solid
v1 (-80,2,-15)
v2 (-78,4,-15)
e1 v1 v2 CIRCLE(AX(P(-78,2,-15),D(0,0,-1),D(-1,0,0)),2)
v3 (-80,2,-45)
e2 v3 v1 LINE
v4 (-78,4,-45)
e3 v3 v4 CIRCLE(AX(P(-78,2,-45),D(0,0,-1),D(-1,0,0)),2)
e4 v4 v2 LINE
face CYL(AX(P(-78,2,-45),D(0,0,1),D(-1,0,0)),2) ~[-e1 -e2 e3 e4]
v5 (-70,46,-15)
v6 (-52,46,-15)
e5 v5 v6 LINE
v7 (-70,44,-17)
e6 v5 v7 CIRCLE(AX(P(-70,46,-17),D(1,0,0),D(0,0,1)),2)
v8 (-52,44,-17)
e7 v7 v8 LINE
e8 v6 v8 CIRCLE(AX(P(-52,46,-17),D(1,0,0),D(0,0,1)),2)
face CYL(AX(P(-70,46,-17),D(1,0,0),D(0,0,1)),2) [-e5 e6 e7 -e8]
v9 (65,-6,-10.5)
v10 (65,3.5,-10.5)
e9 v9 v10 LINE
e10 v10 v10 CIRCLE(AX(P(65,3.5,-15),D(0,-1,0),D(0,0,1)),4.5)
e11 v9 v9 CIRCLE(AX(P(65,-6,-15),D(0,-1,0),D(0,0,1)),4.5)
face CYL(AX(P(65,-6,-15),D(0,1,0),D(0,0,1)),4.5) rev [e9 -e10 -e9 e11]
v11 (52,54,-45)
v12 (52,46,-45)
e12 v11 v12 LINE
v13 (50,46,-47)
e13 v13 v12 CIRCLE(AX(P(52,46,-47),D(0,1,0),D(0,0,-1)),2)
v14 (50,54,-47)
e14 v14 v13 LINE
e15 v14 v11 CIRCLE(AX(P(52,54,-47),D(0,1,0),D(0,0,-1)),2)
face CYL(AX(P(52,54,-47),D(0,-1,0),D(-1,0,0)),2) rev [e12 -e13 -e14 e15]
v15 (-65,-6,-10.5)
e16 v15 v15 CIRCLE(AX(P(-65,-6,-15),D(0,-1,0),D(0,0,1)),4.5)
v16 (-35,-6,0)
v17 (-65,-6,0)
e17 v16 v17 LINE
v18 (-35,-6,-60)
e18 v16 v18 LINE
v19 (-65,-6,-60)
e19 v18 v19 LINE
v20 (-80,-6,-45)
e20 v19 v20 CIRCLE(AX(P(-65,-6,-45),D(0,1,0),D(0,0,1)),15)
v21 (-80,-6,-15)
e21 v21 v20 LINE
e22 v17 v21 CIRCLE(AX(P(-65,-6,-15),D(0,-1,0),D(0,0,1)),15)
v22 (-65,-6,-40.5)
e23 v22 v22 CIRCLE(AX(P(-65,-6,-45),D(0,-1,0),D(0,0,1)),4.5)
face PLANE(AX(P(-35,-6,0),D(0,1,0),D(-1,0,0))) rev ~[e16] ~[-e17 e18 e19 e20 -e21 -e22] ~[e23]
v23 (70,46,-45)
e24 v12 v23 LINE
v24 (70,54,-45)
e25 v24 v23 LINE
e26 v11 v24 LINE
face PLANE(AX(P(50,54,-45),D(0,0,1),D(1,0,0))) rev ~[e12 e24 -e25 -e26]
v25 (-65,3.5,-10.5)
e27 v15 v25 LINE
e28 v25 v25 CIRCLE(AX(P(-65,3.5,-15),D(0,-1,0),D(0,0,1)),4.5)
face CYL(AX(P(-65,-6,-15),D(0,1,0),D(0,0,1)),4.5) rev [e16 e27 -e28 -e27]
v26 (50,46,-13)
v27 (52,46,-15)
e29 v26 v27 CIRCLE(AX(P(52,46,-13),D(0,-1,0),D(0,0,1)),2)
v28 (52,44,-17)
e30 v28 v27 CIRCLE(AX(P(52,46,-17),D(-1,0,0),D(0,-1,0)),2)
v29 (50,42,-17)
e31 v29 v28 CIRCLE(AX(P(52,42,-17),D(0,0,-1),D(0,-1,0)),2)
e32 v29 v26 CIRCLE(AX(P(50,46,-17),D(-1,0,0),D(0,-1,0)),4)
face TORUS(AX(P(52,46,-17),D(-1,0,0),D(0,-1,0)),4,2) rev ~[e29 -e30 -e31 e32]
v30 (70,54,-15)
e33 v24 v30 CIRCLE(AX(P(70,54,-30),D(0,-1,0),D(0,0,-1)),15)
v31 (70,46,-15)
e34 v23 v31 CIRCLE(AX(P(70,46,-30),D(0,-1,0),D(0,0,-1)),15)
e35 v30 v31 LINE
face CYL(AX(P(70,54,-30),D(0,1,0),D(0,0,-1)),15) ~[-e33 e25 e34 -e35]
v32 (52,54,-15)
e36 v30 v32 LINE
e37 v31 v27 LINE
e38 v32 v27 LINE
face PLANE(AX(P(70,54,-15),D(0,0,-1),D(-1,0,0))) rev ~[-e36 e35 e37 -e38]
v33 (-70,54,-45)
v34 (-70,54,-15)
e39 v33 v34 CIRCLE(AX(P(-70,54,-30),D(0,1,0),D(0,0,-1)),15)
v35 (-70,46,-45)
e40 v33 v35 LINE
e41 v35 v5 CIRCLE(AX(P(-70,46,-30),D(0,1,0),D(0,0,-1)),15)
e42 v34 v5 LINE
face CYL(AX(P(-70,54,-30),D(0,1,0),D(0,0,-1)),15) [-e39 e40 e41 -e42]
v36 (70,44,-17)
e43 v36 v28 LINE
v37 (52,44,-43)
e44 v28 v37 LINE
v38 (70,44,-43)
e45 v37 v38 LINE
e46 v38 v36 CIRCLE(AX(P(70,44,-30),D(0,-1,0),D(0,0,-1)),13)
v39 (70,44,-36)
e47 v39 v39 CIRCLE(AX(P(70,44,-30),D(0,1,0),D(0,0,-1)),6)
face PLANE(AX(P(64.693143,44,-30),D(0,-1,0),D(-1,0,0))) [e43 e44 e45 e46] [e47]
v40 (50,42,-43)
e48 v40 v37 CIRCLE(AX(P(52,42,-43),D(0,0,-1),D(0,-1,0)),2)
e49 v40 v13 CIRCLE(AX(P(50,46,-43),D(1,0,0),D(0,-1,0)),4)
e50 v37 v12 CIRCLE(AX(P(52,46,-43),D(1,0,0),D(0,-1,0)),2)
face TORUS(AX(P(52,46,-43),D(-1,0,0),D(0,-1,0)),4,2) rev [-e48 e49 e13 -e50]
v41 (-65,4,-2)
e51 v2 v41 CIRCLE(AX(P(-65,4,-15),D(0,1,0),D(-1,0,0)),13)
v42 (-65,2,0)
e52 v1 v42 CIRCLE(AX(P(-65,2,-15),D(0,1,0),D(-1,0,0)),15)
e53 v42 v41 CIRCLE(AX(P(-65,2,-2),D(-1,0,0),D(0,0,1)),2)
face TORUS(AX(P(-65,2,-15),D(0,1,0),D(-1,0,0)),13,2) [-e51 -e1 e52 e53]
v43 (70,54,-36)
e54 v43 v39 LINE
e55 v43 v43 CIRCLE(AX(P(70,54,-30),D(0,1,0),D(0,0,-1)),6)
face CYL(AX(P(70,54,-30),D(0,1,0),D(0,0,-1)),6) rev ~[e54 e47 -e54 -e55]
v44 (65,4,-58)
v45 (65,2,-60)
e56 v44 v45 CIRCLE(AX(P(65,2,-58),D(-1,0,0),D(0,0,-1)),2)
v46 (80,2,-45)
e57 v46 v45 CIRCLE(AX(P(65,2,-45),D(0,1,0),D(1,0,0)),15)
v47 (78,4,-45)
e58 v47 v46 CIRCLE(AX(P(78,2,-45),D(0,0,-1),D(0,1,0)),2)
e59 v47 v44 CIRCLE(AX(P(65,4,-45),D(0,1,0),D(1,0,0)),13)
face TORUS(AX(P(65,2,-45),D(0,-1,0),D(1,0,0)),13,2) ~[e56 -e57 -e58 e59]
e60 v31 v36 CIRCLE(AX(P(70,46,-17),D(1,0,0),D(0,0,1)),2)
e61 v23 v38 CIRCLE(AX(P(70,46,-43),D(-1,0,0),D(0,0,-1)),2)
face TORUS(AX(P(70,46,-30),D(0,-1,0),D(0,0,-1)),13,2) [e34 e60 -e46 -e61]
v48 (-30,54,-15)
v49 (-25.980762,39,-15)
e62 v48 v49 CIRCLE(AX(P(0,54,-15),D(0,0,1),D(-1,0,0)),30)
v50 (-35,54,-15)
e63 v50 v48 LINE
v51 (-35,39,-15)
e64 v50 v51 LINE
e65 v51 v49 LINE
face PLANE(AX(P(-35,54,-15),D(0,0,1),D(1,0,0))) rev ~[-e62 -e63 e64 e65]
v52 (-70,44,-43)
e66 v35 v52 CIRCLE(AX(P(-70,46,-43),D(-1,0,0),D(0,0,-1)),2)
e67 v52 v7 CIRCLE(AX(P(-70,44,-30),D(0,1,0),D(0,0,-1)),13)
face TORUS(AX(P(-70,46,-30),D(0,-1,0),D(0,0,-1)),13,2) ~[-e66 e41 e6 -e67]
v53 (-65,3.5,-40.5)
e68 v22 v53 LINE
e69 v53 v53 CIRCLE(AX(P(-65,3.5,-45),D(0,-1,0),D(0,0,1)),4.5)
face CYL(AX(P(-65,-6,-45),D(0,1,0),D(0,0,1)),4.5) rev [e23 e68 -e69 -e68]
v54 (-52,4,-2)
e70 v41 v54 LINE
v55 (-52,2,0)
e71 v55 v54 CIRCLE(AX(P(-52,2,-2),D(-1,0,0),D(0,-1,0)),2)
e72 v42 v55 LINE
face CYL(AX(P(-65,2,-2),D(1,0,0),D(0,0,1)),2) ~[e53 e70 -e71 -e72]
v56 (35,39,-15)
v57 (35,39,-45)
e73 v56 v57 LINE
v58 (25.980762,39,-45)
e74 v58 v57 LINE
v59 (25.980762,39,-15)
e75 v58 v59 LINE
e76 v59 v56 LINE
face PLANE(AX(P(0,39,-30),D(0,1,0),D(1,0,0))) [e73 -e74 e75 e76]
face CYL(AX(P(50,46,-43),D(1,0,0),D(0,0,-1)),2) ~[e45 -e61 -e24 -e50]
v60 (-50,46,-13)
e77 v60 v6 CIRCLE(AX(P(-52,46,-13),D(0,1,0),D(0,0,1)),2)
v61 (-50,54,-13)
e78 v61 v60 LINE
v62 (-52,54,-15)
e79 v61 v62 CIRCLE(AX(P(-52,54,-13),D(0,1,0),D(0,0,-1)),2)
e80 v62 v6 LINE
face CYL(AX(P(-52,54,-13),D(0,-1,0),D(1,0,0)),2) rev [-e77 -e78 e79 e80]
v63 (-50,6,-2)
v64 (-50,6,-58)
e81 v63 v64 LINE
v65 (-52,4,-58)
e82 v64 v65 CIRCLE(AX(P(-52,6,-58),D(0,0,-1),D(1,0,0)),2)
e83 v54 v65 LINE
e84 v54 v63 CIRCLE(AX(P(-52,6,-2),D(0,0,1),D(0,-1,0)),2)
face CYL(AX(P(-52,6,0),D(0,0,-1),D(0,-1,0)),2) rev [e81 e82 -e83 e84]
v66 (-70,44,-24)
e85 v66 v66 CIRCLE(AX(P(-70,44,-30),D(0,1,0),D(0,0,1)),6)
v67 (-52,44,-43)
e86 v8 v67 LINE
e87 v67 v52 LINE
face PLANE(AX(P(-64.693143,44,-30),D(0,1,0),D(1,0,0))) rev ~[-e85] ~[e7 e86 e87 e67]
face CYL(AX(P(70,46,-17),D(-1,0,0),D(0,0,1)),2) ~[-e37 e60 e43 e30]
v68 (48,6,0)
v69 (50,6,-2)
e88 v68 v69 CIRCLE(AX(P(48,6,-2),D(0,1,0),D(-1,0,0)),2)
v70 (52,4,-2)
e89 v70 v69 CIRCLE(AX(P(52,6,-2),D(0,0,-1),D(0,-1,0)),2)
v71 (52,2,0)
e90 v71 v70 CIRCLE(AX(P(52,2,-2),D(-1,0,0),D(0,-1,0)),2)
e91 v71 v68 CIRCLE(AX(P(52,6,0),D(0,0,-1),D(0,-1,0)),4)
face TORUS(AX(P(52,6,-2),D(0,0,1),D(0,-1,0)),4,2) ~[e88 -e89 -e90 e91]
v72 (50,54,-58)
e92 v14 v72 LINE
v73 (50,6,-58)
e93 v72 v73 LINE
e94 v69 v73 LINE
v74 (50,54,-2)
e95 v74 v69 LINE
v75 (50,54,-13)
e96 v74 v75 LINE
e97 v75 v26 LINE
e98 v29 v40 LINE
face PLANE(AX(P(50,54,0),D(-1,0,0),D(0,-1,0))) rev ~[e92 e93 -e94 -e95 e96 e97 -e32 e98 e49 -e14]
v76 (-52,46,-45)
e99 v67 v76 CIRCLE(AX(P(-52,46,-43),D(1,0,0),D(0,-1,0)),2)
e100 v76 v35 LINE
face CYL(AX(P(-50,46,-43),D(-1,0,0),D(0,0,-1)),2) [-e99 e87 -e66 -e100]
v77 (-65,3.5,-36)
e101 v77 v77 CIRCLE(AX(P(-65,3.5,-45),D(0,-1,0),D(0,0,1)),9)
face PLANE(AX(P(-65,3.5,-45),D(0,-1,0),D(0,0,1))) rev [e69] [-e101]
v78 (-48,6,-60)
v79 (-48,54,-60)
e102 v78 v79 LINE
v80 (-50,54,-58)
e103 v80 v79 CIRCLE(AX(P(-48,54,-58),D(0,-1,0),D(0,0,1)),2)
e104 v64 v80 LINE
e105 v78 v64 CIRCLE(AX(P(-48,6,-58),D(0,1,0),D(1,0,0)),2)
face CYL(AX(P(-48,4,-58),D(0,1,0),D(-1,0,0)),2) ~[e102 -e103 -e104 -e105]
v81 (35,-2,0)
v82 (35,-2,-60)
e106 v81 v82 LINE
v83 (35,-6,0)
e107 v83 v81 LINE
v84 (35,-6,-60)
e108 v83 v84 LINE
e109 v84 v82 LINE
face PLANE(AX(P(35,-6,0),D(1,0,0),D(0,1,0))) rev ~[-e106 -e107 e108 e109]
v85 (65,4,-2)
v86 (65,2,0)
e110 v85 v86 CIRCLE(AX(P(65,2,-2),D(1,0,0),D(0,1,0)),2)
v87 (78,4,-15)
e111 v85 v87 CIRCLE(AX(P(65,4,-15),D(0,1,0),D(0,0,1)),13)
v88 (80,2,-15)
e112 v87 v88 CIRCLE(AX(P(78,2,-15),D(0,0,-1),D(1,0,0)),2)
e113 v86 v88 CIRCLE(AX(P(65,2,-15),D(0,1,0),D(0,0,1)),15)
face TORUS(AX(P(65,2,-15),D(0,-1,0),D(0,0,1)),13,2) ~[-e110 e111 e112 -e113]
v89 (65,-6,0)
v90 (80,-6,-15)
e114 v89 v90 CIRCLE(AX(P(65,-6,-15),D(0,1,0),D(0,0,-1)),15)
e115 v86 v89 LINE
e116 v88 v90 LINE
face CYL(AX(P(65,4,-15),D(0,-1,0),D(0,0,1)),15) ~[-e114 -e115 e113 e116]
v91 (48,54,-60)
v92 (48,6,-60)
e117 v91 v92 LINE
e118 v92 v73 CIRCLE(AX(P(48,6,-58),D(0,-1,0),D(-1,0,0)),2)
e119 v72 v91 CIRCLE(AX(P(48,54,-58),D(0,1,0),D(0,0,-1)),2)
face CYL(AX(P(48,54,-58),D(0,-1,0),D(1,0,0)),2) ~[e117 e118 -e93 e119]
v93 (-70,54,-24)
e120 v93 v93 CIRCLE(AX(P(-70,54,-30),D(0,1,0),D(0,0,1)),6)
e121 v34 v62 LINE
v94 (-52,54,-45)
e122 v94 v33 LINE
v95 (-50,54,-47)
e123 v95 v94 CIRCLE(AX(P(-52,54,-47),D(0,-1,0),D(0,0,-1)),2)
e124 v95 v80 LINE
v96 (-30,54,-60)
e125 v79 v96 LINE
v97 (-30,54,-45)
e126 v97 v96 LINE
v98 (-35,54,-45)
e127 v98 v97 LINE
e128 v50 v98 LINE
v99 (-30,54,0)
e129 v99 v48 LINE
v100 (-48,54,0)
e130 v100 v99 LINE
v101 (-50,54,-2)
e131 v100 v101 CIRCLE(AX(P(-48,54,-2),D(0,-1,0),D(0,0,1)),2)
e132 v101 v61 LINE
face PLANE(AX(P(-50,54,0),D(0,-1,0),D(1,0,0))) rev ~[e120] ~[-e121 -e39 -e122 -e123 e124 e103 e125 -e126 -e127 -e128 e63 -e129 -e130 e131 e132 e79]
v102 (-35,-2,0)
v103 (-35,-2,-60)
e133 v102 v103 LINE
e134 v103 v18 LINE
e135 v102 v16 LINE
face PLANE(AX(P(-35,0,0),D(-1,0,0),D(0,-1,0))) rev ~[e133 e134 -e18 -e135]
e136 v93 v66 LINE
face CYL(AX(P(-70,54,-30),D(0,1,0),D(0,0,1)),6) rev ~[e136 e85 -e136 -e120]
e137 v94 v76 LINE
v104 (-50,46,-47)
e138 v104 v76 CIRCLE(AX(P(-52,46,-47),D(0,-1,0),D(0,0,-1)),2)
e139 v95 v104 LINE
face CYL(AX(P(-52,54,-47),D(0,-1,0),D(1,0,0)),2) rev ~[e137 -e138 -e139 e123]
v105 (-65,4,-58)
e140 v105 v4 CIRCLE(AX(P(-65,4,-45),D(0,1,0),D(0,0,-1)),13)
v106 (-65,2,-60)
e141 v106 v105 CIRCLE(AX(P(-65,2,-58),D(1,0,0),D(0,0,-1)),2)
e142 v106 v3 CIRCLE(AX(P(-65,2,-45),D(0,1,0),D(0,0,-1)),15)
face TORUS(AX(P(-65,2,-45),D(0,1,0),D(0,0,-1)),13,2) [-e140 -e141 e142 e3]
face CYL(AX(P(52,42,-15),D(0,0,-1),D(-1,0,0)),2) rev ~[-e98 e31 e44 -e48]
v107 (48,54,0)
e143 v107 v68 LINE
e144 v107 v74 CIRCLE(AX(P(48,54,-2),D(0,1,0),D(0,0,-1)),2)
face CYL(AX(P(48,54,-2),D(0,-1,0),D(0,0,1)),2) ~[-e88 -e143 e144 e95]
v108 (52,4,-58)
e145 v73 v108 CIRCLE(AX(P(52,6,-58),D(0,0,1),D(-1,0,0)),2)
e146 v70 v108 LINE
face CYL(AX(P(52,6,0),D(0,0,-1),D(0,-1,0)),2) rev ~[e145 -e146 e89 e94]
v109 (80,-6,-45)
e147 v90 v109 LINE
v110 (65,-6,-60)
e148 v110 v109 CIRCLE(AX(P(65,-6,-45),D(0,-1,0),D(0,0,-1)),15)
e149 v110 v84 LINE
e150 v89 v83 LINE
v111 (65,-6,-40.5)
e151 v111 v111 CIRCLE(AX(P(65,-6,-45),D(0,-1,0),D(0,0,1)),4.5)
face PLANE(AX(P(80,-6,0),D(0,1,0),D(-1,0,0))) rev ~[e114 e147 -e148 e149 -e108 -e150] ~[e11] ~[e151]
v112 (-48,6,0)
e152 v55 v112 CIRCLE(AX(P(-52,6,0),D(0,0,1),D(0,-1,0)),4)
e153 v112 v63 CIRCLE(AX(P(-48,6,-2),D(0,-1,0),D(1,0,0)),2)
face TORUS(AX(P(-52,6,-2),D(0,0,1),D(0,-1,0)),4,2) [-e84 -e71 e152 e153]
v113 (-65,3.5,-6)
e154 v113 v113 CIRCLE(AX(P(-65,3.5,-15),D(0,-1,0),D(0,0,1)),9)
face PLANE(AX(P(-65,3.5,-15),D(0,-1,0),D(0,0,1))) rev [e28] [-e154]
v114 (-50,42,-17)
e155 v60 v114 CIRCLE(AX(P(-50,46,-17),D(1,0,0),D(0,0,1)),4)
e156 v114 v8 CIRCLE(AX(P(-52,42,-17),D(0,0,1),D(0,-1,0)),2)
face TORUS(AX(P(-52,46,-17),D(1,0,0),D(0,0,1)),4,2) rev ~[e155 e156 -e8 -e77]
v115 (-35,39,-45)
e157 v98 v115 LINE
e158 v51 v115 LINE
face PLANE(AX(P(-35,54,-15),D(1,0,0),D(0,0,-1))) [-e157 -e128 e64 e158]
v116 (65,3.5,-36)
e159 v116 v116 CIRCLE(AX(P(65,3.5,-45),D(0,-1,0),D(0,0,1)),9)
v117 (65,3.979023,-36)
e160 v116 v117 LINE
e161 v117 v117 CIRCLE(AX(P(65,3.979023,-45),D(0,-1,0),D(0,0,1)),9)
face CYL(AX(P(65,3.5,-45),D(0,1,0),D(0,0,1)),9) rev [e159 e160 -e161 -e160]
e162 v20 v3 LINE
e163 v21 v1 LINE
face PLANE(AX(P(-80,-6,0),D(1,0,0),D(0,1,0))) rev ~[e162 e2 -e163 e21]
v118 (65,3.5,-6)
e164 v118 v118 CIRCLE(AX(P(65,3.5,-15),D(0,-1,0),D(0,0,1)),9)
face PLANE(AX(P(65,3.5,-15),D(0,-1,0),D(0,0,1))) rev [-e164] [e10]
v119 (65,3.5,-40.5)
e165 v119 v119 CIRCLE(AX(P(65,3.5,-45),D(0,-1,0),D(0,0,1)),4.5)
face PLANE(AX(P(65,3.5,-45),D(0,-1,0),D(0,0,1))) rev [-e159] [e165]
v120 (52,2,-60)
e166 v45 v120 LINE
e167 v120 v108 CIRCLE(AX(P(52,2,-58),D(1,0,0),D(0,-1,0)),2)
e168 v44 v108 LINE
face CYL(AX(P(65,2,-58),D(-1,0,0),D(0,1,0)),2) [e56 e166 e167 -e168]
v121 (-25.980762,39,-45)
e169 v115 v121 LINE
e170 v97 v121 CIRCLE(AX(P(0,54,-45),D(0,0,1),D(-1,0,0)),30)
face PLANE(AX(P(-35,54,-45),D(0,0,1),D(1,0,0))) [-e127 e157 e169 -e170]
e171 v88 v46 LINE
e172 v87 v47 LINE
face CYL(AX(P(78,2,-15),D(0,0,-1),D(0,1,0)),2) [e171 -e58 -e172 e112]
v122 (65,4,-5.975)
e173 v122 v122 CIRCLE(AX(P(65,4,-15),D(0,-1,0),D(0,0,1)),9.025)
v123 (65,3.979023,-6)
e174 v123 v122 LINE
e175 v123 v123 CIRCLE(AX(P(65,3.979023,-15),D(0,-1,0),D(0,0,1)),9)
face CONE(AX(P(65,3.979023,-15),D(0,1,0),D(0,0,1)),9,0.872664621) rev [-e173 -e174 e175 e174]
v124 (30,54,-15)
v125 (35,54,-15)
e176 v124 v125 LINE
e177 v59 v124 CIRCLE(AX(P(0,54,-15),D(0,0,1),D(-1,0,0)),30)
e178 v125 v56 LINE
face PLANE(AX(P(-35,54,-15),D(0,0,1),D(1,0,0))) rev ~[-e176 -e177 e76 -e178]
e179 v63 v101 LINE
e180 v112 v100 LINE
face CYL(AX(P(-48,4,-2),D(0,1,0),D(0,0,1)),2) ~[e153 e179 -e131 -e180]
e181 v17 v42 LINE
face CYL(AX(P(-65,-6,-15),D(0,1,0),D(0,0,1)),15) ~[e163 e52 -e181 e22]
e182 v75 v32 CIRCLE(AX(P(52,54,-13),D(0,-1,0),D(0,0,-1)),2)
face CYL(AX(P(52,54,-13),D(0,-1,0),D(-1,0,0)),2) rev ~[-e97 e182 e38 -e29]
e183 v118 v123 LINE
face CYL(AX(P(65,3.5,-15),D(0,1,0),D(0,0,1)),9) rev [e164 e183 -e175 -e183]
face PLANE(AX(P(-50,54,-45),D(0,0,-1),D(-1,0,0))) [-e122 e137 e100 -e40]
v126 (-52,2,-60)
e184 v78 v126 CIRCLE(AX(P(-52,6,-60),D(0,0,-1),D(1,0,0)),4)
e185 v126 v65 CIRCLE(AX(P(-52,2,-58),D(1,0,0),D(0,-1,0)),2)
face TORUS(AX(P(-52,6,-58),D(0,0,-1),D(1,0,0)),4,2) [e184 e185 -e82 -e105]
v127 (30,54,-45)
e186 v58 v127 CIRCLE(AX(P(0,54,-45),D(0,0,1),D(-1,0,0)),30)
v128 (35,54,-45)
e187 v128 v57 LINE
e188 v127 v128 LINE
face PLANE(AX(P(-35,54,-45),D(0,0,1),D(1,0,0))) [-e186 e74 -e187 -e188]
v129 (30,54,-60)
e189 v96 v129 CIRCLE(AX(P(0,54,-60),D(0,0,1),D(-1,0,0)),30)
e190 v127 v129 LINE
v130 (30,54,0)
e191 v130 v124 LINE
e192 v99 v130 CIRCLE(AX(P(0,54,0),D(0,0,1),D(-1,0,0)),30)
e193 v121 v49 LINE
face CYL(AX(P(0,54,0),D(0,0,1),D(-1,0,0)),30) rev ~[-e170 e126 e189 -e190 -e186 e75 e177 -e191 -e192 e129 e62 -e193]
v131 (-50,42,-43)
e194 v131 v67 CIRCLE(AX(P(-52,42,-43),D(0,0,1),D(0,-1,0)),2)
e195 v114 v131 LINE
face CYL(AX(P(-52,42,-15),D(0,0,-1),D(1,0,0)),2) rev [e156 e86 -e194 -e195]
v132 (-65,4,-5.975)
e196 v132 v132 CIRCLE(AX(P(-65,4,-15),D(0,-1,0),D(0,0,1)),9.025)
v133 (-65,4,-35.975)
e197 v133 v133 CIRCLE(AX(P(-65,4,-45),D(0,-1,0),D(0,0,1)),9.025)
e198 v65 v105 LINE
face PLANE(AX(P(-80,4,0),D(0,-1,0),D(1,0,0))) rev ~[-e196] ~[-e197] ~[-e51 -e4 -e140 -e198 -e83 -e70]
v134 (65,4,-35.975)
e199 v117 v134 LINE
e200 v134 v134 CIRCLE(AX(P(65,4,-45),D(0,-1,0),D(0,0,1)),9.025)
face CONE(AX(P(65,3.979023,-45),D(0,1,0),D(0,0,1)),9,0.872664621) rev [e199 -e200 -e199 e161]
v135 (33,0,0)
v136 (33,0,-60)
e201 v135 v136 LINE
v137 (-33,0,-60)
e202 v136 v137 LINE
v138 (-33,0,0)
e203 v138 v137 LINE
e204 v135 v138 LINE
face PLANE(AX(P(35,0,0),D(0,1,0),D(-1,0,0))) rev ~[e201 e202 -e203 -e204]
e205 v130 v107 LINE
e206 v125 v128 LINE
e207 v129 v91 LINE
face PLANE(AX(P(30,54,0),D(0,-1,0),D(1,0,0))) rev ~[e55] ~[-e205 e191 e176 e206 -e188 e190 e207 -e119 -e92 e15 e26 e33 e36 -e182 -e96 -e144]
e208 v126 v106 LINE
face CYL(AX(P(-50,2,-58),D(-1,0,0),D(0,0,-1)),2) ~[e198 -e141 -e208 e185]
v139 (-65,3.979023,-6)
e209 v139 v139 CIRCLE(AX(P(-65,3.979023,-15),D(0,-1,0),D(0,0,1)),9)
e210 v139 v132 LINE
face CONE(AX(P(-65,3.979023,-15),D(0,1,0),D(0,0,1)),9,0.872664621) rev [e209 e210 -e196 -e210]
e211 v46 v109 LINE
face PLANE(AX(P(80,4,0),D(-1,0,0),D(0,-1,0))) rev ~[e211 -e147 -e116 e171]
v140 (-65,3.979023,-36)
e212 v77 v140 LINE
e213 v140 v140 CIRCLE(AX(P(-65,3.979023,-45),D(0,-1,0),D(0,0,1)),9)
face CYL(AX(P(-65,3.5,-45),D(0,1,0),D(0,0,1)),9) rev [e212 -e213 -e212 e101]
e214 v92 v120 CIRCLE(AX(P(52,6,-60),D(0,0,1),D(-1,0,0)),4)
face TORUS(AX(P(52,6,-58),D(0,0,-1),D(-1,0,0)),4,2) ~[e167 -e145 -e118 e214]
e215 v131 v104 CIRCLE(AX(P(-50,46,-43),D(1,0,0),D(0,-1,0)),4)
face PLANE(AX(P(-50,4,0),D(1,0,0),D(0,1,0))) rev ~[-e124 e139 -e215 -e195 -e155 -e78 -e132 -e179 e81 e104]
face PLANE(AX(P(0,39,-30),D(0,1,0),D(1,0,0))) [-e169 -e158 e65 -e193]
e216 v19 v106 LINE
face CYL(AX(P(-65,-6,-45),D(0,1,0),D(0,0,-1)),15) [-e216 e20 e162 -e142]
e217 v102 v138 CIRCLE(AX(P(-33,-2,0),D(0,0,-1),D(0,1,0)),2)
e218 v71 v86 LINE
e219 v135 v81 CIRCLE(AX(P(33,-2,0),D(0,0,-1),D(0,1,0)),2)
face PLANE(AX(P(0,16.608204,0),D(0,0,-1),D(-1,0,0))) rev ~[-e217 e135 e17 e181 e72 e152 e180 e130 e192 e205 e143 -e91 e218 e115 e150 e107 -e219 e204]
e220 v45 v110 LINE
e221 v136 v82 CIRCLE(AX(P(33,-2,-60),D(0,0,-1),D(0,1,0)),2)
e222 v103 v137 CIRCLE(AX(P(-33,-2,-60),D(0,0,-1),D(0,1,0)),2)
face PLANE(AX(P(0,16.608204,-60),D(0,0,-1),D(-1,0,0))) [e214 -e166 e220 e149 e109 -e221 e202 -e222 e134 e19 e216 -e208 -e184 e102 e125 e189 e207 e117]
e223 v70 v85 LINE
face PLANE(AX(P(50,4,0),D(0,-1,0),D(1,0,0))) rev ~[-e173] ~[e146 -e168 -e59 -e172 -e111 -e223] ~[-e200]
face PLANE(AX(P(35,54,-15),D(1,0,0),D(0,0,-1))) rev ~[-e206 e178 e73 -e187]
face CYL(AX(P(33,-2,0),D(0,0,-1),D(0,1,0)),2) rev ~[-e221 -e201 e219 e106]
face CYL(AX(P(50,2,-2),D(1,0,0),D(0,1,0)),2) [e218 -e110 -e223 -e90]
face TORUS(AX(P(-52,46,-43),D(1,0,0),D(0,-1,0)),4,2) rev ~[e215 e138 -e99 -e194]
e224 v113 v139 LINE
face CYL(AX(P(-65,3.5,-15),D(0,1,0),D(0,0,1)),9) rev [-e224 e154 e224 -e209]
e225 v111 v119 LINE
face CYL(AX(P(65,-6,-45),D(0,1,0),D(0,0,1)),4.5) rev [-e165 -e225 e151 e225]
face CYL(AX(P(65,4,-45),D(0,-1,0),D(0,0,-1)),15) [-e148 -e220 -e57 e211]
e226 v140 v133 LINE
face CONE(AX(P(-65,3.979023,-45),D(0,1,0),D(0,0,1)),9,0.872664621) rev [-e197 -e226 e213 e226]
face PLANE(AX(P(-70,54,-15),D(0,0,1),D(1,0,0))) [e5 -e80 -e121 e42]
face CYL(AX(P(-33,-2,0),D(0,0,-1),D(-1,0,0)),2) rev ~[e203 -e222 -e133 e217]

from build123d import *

# Parameters (mm, degrees)
EXTRUDE_1_DEPTH             = 60
SKETCH_2_R                  = 6
EXTRUDE_2_DEPTH             = 10
FILLET_1_R                  = 15
HOLE_WIZARD_M8_1_AT_2_COUNT = 2
HOLE_WIZARD_M8_1_AT_2_PITCH = 30
HOLE_WIZARD_M8_1_AT_3_COUNT = 2
HOLE_WIZARD_M8_1_AT_3_PITCH = 130
HOLE_WIZARD_M8_1_AT_4_COUNT = 2
HOLE_WIZARD_M8_1_AT_4_PITCH = 133.416640641
FILLET_2_R                  = 2
SKETCH_5_W                  = 70
SKETCH_5_H                  = 30
CUT_EXTRUDE_1_DEPTH         = 15


with BuildPart() as part:
    # 草图1 → 凸台-拉伸1 (new body)
    with BuildSketch(Plane.XY):
        with BuildLine():
            Line((35, 0), (-35, 0))
            Line((-35, 0), (-35, -6))
            Line((-35, -6), (-80, -6))
            Line((-80, -6), (-80, 4))
            Line((-80, 4), (-50, 4))
            Line((-50, 4), (-50, 54))
            Line((-50, 54), (-30, 54))
            ThreePointArc((-30, 54), (0, 24), (30, 54))
            Line((30, 54), (50, 54))
            Line((50, 54), (50, 4))
            Line((50, 4), (80, 4))
            Line((80, 4), (80, -6))
            Line((80, -6), (35, -6))
            Line((35, -6), (35, 0))
        make_face()
    extrude(amount=-EXTRUDE_1_DEPTH)

    # 草图2 → 凸台-拉伸2 (add)
    # profile 1 of 2: a face of its own
    with BuildSketch(Plane(origin=(0, 54, 0), x_dir=(1, 0, 0), z_dir=(0, 1, 0))):
        with BuildLine():
            Line((-50, 15), (-50, 45))
            Line((-50, 45), (-70, 45))
            ThreePointArc((-70, 45), (-85, 30), (-70, 15))
            Line((-70, 15), (-50, 15))
        make_face()
        with Locations(Location((-70, 30, 0), (0, 0, 270))):
            Circle(SKETCH_2_R, mode=Mode.SUBTRACT)
    # profile 2 of 2: a face of its own
    with BuildSketch(Plane(origin=(0, 54, 0), x_dir=(1, 0, 0), z_dir=(0, 1, 0))):
        with BuildLine():
            Line((50, 45), (70, 45))
            ThreePointArc((70, 45), (85, 30), (70, 15))
            Line((70, 15), (50, 15))
            Line((50, 15), (50, 45))
        make_face()
        with Locations(Location((70, 30, 0), (0, 0, 90))):
            Circle(SKETCH_2_R, mode=Mode.SUBTRACT)
    extrude(amount=-EXTRUDE_2_DEPTH)

    # 圆角1
    fillet_1_edges = [part.edges().sort_by_distance(p)[0] for p in [
        (-80, -1, 0),
        (80, -1, 0),
        (80, -1, -60),
        (-80, -1, -60),
    ]]
    fillet(fillet_1_edges, radius=FILLET_1_R)

    # 草图4 → M8 六角头螺栓的柱形沉头孔1 (revolve, cut)
    with BuildSketch(Plane(origin=(-65, 4, -15), x_dir=(0, 0, 1), z_dir=(1, 0, 0))):
        Polygon((0, 0), (0, 10), (4.5, 10), (4.5, 0.5), (9, 0.5), (9, 0.020977491), (9.025, 0), align=None)
    hole_wizard_m8_1 = revolve(axis=Axis((-65, 10.35, -15), (0, -1, 0)), mode=Mode.SUBTRACT)

    # M8 六角头螺栓的柱形沉头孔1 at 2: M8 六角头螺栓的柱形沉头孔1 ×2
    with Locations(*[(0, 0, -i * HOLE_WIZARD_M8_1_AT_2_PITCH) for i in range(1, HOLE_WIZARD_M8_1_AT_2_COUNT)]):
        add(hole_wizard_m8_1, mode=Mode.SUBTRACT)

    # M8 六角头螺栓的柱形沉头孔1 at 3: M8 六角头螺栓的柱形沉头孔1 ×2
    with Locations(*[(i * HOLE_WIZARD_M8_1_AT_3_PITCH, 0, 0) for i in range(1, HOLE_WIZARD_M8_1_AT_3_COUNT)]):
        add(hole_wizard_m8_1, mode=Mode.SUBTRACT)

    # M8 六角头螺栓的柱形沉头孔1 at 4: M8 六角头螺栓的柱形沉头孔1 ×2
    with Locations(*[Vector(0.9743911956946198, 0, -0.22485950669875843) * (i * HOLE_WIZARD_M8_1_AT_4_PITCH) for i in range(1, HOLE_WIZARD_M8_1_AT_4_COUNT)]):
        add(hole_wizard_m8_1, mode=Mode.SUBTRACT)

    # 圆角2
    fillet_2_edges = [part.edges().sort_by_distance(p)[0] for p in [
        (-57.5, 4, 0),
        (-50, 29, 0),
        (50, 29, 0),
        (-50, 4, -30),
        (50, 4, -30),
        (35, 0, -30),
        (-35, 0, -30),
        (50, 29, -60),
        (-60, 44, -15),
        (-50, 49, -15),
        (-85, 44, -30),
        (-60, 44, -45),
        (-50, 44, -30),
        (-50, 49, -45),
        (-50, 29, -60),
        (-57.5, 4, -60),
        (85, 44, -30),
        (60, 44, -15),
        (50, 44, -30),
        (50, 49, -15),
        (60, 44, -45),
        (50, 49, -45),
        (80, 4, -30),
        (57.5, 4, 0),
        (57.5, 4, -60),
        (75.606601718, 4, -4.393398282),
        (75.606601718, 4, -55.606601718),
        (-80, 4, -30),
        (-75.606601718, 4, -4.393398282),
        (-75.606601718, 4, -55.606601718),
    ]]
    fillet(fillet_2_edges, radius=FILLET_2_R)

    # 草图5 → 切除-拉伸1 (cut)
    with BuildSketch(Plane(origin=(0, 54, 0), x_dir=(1, 0, 0), z_dir=(0, 1, 0))):
        with Locations((0, 30)):
            Rectangle(SKETCH_5_W, SKETCH_5_H)
    extrude(amount=-CUT_EXTRUDE_1_DEPTH, mode=Mode.SUBTRACT)


solid = part.part
